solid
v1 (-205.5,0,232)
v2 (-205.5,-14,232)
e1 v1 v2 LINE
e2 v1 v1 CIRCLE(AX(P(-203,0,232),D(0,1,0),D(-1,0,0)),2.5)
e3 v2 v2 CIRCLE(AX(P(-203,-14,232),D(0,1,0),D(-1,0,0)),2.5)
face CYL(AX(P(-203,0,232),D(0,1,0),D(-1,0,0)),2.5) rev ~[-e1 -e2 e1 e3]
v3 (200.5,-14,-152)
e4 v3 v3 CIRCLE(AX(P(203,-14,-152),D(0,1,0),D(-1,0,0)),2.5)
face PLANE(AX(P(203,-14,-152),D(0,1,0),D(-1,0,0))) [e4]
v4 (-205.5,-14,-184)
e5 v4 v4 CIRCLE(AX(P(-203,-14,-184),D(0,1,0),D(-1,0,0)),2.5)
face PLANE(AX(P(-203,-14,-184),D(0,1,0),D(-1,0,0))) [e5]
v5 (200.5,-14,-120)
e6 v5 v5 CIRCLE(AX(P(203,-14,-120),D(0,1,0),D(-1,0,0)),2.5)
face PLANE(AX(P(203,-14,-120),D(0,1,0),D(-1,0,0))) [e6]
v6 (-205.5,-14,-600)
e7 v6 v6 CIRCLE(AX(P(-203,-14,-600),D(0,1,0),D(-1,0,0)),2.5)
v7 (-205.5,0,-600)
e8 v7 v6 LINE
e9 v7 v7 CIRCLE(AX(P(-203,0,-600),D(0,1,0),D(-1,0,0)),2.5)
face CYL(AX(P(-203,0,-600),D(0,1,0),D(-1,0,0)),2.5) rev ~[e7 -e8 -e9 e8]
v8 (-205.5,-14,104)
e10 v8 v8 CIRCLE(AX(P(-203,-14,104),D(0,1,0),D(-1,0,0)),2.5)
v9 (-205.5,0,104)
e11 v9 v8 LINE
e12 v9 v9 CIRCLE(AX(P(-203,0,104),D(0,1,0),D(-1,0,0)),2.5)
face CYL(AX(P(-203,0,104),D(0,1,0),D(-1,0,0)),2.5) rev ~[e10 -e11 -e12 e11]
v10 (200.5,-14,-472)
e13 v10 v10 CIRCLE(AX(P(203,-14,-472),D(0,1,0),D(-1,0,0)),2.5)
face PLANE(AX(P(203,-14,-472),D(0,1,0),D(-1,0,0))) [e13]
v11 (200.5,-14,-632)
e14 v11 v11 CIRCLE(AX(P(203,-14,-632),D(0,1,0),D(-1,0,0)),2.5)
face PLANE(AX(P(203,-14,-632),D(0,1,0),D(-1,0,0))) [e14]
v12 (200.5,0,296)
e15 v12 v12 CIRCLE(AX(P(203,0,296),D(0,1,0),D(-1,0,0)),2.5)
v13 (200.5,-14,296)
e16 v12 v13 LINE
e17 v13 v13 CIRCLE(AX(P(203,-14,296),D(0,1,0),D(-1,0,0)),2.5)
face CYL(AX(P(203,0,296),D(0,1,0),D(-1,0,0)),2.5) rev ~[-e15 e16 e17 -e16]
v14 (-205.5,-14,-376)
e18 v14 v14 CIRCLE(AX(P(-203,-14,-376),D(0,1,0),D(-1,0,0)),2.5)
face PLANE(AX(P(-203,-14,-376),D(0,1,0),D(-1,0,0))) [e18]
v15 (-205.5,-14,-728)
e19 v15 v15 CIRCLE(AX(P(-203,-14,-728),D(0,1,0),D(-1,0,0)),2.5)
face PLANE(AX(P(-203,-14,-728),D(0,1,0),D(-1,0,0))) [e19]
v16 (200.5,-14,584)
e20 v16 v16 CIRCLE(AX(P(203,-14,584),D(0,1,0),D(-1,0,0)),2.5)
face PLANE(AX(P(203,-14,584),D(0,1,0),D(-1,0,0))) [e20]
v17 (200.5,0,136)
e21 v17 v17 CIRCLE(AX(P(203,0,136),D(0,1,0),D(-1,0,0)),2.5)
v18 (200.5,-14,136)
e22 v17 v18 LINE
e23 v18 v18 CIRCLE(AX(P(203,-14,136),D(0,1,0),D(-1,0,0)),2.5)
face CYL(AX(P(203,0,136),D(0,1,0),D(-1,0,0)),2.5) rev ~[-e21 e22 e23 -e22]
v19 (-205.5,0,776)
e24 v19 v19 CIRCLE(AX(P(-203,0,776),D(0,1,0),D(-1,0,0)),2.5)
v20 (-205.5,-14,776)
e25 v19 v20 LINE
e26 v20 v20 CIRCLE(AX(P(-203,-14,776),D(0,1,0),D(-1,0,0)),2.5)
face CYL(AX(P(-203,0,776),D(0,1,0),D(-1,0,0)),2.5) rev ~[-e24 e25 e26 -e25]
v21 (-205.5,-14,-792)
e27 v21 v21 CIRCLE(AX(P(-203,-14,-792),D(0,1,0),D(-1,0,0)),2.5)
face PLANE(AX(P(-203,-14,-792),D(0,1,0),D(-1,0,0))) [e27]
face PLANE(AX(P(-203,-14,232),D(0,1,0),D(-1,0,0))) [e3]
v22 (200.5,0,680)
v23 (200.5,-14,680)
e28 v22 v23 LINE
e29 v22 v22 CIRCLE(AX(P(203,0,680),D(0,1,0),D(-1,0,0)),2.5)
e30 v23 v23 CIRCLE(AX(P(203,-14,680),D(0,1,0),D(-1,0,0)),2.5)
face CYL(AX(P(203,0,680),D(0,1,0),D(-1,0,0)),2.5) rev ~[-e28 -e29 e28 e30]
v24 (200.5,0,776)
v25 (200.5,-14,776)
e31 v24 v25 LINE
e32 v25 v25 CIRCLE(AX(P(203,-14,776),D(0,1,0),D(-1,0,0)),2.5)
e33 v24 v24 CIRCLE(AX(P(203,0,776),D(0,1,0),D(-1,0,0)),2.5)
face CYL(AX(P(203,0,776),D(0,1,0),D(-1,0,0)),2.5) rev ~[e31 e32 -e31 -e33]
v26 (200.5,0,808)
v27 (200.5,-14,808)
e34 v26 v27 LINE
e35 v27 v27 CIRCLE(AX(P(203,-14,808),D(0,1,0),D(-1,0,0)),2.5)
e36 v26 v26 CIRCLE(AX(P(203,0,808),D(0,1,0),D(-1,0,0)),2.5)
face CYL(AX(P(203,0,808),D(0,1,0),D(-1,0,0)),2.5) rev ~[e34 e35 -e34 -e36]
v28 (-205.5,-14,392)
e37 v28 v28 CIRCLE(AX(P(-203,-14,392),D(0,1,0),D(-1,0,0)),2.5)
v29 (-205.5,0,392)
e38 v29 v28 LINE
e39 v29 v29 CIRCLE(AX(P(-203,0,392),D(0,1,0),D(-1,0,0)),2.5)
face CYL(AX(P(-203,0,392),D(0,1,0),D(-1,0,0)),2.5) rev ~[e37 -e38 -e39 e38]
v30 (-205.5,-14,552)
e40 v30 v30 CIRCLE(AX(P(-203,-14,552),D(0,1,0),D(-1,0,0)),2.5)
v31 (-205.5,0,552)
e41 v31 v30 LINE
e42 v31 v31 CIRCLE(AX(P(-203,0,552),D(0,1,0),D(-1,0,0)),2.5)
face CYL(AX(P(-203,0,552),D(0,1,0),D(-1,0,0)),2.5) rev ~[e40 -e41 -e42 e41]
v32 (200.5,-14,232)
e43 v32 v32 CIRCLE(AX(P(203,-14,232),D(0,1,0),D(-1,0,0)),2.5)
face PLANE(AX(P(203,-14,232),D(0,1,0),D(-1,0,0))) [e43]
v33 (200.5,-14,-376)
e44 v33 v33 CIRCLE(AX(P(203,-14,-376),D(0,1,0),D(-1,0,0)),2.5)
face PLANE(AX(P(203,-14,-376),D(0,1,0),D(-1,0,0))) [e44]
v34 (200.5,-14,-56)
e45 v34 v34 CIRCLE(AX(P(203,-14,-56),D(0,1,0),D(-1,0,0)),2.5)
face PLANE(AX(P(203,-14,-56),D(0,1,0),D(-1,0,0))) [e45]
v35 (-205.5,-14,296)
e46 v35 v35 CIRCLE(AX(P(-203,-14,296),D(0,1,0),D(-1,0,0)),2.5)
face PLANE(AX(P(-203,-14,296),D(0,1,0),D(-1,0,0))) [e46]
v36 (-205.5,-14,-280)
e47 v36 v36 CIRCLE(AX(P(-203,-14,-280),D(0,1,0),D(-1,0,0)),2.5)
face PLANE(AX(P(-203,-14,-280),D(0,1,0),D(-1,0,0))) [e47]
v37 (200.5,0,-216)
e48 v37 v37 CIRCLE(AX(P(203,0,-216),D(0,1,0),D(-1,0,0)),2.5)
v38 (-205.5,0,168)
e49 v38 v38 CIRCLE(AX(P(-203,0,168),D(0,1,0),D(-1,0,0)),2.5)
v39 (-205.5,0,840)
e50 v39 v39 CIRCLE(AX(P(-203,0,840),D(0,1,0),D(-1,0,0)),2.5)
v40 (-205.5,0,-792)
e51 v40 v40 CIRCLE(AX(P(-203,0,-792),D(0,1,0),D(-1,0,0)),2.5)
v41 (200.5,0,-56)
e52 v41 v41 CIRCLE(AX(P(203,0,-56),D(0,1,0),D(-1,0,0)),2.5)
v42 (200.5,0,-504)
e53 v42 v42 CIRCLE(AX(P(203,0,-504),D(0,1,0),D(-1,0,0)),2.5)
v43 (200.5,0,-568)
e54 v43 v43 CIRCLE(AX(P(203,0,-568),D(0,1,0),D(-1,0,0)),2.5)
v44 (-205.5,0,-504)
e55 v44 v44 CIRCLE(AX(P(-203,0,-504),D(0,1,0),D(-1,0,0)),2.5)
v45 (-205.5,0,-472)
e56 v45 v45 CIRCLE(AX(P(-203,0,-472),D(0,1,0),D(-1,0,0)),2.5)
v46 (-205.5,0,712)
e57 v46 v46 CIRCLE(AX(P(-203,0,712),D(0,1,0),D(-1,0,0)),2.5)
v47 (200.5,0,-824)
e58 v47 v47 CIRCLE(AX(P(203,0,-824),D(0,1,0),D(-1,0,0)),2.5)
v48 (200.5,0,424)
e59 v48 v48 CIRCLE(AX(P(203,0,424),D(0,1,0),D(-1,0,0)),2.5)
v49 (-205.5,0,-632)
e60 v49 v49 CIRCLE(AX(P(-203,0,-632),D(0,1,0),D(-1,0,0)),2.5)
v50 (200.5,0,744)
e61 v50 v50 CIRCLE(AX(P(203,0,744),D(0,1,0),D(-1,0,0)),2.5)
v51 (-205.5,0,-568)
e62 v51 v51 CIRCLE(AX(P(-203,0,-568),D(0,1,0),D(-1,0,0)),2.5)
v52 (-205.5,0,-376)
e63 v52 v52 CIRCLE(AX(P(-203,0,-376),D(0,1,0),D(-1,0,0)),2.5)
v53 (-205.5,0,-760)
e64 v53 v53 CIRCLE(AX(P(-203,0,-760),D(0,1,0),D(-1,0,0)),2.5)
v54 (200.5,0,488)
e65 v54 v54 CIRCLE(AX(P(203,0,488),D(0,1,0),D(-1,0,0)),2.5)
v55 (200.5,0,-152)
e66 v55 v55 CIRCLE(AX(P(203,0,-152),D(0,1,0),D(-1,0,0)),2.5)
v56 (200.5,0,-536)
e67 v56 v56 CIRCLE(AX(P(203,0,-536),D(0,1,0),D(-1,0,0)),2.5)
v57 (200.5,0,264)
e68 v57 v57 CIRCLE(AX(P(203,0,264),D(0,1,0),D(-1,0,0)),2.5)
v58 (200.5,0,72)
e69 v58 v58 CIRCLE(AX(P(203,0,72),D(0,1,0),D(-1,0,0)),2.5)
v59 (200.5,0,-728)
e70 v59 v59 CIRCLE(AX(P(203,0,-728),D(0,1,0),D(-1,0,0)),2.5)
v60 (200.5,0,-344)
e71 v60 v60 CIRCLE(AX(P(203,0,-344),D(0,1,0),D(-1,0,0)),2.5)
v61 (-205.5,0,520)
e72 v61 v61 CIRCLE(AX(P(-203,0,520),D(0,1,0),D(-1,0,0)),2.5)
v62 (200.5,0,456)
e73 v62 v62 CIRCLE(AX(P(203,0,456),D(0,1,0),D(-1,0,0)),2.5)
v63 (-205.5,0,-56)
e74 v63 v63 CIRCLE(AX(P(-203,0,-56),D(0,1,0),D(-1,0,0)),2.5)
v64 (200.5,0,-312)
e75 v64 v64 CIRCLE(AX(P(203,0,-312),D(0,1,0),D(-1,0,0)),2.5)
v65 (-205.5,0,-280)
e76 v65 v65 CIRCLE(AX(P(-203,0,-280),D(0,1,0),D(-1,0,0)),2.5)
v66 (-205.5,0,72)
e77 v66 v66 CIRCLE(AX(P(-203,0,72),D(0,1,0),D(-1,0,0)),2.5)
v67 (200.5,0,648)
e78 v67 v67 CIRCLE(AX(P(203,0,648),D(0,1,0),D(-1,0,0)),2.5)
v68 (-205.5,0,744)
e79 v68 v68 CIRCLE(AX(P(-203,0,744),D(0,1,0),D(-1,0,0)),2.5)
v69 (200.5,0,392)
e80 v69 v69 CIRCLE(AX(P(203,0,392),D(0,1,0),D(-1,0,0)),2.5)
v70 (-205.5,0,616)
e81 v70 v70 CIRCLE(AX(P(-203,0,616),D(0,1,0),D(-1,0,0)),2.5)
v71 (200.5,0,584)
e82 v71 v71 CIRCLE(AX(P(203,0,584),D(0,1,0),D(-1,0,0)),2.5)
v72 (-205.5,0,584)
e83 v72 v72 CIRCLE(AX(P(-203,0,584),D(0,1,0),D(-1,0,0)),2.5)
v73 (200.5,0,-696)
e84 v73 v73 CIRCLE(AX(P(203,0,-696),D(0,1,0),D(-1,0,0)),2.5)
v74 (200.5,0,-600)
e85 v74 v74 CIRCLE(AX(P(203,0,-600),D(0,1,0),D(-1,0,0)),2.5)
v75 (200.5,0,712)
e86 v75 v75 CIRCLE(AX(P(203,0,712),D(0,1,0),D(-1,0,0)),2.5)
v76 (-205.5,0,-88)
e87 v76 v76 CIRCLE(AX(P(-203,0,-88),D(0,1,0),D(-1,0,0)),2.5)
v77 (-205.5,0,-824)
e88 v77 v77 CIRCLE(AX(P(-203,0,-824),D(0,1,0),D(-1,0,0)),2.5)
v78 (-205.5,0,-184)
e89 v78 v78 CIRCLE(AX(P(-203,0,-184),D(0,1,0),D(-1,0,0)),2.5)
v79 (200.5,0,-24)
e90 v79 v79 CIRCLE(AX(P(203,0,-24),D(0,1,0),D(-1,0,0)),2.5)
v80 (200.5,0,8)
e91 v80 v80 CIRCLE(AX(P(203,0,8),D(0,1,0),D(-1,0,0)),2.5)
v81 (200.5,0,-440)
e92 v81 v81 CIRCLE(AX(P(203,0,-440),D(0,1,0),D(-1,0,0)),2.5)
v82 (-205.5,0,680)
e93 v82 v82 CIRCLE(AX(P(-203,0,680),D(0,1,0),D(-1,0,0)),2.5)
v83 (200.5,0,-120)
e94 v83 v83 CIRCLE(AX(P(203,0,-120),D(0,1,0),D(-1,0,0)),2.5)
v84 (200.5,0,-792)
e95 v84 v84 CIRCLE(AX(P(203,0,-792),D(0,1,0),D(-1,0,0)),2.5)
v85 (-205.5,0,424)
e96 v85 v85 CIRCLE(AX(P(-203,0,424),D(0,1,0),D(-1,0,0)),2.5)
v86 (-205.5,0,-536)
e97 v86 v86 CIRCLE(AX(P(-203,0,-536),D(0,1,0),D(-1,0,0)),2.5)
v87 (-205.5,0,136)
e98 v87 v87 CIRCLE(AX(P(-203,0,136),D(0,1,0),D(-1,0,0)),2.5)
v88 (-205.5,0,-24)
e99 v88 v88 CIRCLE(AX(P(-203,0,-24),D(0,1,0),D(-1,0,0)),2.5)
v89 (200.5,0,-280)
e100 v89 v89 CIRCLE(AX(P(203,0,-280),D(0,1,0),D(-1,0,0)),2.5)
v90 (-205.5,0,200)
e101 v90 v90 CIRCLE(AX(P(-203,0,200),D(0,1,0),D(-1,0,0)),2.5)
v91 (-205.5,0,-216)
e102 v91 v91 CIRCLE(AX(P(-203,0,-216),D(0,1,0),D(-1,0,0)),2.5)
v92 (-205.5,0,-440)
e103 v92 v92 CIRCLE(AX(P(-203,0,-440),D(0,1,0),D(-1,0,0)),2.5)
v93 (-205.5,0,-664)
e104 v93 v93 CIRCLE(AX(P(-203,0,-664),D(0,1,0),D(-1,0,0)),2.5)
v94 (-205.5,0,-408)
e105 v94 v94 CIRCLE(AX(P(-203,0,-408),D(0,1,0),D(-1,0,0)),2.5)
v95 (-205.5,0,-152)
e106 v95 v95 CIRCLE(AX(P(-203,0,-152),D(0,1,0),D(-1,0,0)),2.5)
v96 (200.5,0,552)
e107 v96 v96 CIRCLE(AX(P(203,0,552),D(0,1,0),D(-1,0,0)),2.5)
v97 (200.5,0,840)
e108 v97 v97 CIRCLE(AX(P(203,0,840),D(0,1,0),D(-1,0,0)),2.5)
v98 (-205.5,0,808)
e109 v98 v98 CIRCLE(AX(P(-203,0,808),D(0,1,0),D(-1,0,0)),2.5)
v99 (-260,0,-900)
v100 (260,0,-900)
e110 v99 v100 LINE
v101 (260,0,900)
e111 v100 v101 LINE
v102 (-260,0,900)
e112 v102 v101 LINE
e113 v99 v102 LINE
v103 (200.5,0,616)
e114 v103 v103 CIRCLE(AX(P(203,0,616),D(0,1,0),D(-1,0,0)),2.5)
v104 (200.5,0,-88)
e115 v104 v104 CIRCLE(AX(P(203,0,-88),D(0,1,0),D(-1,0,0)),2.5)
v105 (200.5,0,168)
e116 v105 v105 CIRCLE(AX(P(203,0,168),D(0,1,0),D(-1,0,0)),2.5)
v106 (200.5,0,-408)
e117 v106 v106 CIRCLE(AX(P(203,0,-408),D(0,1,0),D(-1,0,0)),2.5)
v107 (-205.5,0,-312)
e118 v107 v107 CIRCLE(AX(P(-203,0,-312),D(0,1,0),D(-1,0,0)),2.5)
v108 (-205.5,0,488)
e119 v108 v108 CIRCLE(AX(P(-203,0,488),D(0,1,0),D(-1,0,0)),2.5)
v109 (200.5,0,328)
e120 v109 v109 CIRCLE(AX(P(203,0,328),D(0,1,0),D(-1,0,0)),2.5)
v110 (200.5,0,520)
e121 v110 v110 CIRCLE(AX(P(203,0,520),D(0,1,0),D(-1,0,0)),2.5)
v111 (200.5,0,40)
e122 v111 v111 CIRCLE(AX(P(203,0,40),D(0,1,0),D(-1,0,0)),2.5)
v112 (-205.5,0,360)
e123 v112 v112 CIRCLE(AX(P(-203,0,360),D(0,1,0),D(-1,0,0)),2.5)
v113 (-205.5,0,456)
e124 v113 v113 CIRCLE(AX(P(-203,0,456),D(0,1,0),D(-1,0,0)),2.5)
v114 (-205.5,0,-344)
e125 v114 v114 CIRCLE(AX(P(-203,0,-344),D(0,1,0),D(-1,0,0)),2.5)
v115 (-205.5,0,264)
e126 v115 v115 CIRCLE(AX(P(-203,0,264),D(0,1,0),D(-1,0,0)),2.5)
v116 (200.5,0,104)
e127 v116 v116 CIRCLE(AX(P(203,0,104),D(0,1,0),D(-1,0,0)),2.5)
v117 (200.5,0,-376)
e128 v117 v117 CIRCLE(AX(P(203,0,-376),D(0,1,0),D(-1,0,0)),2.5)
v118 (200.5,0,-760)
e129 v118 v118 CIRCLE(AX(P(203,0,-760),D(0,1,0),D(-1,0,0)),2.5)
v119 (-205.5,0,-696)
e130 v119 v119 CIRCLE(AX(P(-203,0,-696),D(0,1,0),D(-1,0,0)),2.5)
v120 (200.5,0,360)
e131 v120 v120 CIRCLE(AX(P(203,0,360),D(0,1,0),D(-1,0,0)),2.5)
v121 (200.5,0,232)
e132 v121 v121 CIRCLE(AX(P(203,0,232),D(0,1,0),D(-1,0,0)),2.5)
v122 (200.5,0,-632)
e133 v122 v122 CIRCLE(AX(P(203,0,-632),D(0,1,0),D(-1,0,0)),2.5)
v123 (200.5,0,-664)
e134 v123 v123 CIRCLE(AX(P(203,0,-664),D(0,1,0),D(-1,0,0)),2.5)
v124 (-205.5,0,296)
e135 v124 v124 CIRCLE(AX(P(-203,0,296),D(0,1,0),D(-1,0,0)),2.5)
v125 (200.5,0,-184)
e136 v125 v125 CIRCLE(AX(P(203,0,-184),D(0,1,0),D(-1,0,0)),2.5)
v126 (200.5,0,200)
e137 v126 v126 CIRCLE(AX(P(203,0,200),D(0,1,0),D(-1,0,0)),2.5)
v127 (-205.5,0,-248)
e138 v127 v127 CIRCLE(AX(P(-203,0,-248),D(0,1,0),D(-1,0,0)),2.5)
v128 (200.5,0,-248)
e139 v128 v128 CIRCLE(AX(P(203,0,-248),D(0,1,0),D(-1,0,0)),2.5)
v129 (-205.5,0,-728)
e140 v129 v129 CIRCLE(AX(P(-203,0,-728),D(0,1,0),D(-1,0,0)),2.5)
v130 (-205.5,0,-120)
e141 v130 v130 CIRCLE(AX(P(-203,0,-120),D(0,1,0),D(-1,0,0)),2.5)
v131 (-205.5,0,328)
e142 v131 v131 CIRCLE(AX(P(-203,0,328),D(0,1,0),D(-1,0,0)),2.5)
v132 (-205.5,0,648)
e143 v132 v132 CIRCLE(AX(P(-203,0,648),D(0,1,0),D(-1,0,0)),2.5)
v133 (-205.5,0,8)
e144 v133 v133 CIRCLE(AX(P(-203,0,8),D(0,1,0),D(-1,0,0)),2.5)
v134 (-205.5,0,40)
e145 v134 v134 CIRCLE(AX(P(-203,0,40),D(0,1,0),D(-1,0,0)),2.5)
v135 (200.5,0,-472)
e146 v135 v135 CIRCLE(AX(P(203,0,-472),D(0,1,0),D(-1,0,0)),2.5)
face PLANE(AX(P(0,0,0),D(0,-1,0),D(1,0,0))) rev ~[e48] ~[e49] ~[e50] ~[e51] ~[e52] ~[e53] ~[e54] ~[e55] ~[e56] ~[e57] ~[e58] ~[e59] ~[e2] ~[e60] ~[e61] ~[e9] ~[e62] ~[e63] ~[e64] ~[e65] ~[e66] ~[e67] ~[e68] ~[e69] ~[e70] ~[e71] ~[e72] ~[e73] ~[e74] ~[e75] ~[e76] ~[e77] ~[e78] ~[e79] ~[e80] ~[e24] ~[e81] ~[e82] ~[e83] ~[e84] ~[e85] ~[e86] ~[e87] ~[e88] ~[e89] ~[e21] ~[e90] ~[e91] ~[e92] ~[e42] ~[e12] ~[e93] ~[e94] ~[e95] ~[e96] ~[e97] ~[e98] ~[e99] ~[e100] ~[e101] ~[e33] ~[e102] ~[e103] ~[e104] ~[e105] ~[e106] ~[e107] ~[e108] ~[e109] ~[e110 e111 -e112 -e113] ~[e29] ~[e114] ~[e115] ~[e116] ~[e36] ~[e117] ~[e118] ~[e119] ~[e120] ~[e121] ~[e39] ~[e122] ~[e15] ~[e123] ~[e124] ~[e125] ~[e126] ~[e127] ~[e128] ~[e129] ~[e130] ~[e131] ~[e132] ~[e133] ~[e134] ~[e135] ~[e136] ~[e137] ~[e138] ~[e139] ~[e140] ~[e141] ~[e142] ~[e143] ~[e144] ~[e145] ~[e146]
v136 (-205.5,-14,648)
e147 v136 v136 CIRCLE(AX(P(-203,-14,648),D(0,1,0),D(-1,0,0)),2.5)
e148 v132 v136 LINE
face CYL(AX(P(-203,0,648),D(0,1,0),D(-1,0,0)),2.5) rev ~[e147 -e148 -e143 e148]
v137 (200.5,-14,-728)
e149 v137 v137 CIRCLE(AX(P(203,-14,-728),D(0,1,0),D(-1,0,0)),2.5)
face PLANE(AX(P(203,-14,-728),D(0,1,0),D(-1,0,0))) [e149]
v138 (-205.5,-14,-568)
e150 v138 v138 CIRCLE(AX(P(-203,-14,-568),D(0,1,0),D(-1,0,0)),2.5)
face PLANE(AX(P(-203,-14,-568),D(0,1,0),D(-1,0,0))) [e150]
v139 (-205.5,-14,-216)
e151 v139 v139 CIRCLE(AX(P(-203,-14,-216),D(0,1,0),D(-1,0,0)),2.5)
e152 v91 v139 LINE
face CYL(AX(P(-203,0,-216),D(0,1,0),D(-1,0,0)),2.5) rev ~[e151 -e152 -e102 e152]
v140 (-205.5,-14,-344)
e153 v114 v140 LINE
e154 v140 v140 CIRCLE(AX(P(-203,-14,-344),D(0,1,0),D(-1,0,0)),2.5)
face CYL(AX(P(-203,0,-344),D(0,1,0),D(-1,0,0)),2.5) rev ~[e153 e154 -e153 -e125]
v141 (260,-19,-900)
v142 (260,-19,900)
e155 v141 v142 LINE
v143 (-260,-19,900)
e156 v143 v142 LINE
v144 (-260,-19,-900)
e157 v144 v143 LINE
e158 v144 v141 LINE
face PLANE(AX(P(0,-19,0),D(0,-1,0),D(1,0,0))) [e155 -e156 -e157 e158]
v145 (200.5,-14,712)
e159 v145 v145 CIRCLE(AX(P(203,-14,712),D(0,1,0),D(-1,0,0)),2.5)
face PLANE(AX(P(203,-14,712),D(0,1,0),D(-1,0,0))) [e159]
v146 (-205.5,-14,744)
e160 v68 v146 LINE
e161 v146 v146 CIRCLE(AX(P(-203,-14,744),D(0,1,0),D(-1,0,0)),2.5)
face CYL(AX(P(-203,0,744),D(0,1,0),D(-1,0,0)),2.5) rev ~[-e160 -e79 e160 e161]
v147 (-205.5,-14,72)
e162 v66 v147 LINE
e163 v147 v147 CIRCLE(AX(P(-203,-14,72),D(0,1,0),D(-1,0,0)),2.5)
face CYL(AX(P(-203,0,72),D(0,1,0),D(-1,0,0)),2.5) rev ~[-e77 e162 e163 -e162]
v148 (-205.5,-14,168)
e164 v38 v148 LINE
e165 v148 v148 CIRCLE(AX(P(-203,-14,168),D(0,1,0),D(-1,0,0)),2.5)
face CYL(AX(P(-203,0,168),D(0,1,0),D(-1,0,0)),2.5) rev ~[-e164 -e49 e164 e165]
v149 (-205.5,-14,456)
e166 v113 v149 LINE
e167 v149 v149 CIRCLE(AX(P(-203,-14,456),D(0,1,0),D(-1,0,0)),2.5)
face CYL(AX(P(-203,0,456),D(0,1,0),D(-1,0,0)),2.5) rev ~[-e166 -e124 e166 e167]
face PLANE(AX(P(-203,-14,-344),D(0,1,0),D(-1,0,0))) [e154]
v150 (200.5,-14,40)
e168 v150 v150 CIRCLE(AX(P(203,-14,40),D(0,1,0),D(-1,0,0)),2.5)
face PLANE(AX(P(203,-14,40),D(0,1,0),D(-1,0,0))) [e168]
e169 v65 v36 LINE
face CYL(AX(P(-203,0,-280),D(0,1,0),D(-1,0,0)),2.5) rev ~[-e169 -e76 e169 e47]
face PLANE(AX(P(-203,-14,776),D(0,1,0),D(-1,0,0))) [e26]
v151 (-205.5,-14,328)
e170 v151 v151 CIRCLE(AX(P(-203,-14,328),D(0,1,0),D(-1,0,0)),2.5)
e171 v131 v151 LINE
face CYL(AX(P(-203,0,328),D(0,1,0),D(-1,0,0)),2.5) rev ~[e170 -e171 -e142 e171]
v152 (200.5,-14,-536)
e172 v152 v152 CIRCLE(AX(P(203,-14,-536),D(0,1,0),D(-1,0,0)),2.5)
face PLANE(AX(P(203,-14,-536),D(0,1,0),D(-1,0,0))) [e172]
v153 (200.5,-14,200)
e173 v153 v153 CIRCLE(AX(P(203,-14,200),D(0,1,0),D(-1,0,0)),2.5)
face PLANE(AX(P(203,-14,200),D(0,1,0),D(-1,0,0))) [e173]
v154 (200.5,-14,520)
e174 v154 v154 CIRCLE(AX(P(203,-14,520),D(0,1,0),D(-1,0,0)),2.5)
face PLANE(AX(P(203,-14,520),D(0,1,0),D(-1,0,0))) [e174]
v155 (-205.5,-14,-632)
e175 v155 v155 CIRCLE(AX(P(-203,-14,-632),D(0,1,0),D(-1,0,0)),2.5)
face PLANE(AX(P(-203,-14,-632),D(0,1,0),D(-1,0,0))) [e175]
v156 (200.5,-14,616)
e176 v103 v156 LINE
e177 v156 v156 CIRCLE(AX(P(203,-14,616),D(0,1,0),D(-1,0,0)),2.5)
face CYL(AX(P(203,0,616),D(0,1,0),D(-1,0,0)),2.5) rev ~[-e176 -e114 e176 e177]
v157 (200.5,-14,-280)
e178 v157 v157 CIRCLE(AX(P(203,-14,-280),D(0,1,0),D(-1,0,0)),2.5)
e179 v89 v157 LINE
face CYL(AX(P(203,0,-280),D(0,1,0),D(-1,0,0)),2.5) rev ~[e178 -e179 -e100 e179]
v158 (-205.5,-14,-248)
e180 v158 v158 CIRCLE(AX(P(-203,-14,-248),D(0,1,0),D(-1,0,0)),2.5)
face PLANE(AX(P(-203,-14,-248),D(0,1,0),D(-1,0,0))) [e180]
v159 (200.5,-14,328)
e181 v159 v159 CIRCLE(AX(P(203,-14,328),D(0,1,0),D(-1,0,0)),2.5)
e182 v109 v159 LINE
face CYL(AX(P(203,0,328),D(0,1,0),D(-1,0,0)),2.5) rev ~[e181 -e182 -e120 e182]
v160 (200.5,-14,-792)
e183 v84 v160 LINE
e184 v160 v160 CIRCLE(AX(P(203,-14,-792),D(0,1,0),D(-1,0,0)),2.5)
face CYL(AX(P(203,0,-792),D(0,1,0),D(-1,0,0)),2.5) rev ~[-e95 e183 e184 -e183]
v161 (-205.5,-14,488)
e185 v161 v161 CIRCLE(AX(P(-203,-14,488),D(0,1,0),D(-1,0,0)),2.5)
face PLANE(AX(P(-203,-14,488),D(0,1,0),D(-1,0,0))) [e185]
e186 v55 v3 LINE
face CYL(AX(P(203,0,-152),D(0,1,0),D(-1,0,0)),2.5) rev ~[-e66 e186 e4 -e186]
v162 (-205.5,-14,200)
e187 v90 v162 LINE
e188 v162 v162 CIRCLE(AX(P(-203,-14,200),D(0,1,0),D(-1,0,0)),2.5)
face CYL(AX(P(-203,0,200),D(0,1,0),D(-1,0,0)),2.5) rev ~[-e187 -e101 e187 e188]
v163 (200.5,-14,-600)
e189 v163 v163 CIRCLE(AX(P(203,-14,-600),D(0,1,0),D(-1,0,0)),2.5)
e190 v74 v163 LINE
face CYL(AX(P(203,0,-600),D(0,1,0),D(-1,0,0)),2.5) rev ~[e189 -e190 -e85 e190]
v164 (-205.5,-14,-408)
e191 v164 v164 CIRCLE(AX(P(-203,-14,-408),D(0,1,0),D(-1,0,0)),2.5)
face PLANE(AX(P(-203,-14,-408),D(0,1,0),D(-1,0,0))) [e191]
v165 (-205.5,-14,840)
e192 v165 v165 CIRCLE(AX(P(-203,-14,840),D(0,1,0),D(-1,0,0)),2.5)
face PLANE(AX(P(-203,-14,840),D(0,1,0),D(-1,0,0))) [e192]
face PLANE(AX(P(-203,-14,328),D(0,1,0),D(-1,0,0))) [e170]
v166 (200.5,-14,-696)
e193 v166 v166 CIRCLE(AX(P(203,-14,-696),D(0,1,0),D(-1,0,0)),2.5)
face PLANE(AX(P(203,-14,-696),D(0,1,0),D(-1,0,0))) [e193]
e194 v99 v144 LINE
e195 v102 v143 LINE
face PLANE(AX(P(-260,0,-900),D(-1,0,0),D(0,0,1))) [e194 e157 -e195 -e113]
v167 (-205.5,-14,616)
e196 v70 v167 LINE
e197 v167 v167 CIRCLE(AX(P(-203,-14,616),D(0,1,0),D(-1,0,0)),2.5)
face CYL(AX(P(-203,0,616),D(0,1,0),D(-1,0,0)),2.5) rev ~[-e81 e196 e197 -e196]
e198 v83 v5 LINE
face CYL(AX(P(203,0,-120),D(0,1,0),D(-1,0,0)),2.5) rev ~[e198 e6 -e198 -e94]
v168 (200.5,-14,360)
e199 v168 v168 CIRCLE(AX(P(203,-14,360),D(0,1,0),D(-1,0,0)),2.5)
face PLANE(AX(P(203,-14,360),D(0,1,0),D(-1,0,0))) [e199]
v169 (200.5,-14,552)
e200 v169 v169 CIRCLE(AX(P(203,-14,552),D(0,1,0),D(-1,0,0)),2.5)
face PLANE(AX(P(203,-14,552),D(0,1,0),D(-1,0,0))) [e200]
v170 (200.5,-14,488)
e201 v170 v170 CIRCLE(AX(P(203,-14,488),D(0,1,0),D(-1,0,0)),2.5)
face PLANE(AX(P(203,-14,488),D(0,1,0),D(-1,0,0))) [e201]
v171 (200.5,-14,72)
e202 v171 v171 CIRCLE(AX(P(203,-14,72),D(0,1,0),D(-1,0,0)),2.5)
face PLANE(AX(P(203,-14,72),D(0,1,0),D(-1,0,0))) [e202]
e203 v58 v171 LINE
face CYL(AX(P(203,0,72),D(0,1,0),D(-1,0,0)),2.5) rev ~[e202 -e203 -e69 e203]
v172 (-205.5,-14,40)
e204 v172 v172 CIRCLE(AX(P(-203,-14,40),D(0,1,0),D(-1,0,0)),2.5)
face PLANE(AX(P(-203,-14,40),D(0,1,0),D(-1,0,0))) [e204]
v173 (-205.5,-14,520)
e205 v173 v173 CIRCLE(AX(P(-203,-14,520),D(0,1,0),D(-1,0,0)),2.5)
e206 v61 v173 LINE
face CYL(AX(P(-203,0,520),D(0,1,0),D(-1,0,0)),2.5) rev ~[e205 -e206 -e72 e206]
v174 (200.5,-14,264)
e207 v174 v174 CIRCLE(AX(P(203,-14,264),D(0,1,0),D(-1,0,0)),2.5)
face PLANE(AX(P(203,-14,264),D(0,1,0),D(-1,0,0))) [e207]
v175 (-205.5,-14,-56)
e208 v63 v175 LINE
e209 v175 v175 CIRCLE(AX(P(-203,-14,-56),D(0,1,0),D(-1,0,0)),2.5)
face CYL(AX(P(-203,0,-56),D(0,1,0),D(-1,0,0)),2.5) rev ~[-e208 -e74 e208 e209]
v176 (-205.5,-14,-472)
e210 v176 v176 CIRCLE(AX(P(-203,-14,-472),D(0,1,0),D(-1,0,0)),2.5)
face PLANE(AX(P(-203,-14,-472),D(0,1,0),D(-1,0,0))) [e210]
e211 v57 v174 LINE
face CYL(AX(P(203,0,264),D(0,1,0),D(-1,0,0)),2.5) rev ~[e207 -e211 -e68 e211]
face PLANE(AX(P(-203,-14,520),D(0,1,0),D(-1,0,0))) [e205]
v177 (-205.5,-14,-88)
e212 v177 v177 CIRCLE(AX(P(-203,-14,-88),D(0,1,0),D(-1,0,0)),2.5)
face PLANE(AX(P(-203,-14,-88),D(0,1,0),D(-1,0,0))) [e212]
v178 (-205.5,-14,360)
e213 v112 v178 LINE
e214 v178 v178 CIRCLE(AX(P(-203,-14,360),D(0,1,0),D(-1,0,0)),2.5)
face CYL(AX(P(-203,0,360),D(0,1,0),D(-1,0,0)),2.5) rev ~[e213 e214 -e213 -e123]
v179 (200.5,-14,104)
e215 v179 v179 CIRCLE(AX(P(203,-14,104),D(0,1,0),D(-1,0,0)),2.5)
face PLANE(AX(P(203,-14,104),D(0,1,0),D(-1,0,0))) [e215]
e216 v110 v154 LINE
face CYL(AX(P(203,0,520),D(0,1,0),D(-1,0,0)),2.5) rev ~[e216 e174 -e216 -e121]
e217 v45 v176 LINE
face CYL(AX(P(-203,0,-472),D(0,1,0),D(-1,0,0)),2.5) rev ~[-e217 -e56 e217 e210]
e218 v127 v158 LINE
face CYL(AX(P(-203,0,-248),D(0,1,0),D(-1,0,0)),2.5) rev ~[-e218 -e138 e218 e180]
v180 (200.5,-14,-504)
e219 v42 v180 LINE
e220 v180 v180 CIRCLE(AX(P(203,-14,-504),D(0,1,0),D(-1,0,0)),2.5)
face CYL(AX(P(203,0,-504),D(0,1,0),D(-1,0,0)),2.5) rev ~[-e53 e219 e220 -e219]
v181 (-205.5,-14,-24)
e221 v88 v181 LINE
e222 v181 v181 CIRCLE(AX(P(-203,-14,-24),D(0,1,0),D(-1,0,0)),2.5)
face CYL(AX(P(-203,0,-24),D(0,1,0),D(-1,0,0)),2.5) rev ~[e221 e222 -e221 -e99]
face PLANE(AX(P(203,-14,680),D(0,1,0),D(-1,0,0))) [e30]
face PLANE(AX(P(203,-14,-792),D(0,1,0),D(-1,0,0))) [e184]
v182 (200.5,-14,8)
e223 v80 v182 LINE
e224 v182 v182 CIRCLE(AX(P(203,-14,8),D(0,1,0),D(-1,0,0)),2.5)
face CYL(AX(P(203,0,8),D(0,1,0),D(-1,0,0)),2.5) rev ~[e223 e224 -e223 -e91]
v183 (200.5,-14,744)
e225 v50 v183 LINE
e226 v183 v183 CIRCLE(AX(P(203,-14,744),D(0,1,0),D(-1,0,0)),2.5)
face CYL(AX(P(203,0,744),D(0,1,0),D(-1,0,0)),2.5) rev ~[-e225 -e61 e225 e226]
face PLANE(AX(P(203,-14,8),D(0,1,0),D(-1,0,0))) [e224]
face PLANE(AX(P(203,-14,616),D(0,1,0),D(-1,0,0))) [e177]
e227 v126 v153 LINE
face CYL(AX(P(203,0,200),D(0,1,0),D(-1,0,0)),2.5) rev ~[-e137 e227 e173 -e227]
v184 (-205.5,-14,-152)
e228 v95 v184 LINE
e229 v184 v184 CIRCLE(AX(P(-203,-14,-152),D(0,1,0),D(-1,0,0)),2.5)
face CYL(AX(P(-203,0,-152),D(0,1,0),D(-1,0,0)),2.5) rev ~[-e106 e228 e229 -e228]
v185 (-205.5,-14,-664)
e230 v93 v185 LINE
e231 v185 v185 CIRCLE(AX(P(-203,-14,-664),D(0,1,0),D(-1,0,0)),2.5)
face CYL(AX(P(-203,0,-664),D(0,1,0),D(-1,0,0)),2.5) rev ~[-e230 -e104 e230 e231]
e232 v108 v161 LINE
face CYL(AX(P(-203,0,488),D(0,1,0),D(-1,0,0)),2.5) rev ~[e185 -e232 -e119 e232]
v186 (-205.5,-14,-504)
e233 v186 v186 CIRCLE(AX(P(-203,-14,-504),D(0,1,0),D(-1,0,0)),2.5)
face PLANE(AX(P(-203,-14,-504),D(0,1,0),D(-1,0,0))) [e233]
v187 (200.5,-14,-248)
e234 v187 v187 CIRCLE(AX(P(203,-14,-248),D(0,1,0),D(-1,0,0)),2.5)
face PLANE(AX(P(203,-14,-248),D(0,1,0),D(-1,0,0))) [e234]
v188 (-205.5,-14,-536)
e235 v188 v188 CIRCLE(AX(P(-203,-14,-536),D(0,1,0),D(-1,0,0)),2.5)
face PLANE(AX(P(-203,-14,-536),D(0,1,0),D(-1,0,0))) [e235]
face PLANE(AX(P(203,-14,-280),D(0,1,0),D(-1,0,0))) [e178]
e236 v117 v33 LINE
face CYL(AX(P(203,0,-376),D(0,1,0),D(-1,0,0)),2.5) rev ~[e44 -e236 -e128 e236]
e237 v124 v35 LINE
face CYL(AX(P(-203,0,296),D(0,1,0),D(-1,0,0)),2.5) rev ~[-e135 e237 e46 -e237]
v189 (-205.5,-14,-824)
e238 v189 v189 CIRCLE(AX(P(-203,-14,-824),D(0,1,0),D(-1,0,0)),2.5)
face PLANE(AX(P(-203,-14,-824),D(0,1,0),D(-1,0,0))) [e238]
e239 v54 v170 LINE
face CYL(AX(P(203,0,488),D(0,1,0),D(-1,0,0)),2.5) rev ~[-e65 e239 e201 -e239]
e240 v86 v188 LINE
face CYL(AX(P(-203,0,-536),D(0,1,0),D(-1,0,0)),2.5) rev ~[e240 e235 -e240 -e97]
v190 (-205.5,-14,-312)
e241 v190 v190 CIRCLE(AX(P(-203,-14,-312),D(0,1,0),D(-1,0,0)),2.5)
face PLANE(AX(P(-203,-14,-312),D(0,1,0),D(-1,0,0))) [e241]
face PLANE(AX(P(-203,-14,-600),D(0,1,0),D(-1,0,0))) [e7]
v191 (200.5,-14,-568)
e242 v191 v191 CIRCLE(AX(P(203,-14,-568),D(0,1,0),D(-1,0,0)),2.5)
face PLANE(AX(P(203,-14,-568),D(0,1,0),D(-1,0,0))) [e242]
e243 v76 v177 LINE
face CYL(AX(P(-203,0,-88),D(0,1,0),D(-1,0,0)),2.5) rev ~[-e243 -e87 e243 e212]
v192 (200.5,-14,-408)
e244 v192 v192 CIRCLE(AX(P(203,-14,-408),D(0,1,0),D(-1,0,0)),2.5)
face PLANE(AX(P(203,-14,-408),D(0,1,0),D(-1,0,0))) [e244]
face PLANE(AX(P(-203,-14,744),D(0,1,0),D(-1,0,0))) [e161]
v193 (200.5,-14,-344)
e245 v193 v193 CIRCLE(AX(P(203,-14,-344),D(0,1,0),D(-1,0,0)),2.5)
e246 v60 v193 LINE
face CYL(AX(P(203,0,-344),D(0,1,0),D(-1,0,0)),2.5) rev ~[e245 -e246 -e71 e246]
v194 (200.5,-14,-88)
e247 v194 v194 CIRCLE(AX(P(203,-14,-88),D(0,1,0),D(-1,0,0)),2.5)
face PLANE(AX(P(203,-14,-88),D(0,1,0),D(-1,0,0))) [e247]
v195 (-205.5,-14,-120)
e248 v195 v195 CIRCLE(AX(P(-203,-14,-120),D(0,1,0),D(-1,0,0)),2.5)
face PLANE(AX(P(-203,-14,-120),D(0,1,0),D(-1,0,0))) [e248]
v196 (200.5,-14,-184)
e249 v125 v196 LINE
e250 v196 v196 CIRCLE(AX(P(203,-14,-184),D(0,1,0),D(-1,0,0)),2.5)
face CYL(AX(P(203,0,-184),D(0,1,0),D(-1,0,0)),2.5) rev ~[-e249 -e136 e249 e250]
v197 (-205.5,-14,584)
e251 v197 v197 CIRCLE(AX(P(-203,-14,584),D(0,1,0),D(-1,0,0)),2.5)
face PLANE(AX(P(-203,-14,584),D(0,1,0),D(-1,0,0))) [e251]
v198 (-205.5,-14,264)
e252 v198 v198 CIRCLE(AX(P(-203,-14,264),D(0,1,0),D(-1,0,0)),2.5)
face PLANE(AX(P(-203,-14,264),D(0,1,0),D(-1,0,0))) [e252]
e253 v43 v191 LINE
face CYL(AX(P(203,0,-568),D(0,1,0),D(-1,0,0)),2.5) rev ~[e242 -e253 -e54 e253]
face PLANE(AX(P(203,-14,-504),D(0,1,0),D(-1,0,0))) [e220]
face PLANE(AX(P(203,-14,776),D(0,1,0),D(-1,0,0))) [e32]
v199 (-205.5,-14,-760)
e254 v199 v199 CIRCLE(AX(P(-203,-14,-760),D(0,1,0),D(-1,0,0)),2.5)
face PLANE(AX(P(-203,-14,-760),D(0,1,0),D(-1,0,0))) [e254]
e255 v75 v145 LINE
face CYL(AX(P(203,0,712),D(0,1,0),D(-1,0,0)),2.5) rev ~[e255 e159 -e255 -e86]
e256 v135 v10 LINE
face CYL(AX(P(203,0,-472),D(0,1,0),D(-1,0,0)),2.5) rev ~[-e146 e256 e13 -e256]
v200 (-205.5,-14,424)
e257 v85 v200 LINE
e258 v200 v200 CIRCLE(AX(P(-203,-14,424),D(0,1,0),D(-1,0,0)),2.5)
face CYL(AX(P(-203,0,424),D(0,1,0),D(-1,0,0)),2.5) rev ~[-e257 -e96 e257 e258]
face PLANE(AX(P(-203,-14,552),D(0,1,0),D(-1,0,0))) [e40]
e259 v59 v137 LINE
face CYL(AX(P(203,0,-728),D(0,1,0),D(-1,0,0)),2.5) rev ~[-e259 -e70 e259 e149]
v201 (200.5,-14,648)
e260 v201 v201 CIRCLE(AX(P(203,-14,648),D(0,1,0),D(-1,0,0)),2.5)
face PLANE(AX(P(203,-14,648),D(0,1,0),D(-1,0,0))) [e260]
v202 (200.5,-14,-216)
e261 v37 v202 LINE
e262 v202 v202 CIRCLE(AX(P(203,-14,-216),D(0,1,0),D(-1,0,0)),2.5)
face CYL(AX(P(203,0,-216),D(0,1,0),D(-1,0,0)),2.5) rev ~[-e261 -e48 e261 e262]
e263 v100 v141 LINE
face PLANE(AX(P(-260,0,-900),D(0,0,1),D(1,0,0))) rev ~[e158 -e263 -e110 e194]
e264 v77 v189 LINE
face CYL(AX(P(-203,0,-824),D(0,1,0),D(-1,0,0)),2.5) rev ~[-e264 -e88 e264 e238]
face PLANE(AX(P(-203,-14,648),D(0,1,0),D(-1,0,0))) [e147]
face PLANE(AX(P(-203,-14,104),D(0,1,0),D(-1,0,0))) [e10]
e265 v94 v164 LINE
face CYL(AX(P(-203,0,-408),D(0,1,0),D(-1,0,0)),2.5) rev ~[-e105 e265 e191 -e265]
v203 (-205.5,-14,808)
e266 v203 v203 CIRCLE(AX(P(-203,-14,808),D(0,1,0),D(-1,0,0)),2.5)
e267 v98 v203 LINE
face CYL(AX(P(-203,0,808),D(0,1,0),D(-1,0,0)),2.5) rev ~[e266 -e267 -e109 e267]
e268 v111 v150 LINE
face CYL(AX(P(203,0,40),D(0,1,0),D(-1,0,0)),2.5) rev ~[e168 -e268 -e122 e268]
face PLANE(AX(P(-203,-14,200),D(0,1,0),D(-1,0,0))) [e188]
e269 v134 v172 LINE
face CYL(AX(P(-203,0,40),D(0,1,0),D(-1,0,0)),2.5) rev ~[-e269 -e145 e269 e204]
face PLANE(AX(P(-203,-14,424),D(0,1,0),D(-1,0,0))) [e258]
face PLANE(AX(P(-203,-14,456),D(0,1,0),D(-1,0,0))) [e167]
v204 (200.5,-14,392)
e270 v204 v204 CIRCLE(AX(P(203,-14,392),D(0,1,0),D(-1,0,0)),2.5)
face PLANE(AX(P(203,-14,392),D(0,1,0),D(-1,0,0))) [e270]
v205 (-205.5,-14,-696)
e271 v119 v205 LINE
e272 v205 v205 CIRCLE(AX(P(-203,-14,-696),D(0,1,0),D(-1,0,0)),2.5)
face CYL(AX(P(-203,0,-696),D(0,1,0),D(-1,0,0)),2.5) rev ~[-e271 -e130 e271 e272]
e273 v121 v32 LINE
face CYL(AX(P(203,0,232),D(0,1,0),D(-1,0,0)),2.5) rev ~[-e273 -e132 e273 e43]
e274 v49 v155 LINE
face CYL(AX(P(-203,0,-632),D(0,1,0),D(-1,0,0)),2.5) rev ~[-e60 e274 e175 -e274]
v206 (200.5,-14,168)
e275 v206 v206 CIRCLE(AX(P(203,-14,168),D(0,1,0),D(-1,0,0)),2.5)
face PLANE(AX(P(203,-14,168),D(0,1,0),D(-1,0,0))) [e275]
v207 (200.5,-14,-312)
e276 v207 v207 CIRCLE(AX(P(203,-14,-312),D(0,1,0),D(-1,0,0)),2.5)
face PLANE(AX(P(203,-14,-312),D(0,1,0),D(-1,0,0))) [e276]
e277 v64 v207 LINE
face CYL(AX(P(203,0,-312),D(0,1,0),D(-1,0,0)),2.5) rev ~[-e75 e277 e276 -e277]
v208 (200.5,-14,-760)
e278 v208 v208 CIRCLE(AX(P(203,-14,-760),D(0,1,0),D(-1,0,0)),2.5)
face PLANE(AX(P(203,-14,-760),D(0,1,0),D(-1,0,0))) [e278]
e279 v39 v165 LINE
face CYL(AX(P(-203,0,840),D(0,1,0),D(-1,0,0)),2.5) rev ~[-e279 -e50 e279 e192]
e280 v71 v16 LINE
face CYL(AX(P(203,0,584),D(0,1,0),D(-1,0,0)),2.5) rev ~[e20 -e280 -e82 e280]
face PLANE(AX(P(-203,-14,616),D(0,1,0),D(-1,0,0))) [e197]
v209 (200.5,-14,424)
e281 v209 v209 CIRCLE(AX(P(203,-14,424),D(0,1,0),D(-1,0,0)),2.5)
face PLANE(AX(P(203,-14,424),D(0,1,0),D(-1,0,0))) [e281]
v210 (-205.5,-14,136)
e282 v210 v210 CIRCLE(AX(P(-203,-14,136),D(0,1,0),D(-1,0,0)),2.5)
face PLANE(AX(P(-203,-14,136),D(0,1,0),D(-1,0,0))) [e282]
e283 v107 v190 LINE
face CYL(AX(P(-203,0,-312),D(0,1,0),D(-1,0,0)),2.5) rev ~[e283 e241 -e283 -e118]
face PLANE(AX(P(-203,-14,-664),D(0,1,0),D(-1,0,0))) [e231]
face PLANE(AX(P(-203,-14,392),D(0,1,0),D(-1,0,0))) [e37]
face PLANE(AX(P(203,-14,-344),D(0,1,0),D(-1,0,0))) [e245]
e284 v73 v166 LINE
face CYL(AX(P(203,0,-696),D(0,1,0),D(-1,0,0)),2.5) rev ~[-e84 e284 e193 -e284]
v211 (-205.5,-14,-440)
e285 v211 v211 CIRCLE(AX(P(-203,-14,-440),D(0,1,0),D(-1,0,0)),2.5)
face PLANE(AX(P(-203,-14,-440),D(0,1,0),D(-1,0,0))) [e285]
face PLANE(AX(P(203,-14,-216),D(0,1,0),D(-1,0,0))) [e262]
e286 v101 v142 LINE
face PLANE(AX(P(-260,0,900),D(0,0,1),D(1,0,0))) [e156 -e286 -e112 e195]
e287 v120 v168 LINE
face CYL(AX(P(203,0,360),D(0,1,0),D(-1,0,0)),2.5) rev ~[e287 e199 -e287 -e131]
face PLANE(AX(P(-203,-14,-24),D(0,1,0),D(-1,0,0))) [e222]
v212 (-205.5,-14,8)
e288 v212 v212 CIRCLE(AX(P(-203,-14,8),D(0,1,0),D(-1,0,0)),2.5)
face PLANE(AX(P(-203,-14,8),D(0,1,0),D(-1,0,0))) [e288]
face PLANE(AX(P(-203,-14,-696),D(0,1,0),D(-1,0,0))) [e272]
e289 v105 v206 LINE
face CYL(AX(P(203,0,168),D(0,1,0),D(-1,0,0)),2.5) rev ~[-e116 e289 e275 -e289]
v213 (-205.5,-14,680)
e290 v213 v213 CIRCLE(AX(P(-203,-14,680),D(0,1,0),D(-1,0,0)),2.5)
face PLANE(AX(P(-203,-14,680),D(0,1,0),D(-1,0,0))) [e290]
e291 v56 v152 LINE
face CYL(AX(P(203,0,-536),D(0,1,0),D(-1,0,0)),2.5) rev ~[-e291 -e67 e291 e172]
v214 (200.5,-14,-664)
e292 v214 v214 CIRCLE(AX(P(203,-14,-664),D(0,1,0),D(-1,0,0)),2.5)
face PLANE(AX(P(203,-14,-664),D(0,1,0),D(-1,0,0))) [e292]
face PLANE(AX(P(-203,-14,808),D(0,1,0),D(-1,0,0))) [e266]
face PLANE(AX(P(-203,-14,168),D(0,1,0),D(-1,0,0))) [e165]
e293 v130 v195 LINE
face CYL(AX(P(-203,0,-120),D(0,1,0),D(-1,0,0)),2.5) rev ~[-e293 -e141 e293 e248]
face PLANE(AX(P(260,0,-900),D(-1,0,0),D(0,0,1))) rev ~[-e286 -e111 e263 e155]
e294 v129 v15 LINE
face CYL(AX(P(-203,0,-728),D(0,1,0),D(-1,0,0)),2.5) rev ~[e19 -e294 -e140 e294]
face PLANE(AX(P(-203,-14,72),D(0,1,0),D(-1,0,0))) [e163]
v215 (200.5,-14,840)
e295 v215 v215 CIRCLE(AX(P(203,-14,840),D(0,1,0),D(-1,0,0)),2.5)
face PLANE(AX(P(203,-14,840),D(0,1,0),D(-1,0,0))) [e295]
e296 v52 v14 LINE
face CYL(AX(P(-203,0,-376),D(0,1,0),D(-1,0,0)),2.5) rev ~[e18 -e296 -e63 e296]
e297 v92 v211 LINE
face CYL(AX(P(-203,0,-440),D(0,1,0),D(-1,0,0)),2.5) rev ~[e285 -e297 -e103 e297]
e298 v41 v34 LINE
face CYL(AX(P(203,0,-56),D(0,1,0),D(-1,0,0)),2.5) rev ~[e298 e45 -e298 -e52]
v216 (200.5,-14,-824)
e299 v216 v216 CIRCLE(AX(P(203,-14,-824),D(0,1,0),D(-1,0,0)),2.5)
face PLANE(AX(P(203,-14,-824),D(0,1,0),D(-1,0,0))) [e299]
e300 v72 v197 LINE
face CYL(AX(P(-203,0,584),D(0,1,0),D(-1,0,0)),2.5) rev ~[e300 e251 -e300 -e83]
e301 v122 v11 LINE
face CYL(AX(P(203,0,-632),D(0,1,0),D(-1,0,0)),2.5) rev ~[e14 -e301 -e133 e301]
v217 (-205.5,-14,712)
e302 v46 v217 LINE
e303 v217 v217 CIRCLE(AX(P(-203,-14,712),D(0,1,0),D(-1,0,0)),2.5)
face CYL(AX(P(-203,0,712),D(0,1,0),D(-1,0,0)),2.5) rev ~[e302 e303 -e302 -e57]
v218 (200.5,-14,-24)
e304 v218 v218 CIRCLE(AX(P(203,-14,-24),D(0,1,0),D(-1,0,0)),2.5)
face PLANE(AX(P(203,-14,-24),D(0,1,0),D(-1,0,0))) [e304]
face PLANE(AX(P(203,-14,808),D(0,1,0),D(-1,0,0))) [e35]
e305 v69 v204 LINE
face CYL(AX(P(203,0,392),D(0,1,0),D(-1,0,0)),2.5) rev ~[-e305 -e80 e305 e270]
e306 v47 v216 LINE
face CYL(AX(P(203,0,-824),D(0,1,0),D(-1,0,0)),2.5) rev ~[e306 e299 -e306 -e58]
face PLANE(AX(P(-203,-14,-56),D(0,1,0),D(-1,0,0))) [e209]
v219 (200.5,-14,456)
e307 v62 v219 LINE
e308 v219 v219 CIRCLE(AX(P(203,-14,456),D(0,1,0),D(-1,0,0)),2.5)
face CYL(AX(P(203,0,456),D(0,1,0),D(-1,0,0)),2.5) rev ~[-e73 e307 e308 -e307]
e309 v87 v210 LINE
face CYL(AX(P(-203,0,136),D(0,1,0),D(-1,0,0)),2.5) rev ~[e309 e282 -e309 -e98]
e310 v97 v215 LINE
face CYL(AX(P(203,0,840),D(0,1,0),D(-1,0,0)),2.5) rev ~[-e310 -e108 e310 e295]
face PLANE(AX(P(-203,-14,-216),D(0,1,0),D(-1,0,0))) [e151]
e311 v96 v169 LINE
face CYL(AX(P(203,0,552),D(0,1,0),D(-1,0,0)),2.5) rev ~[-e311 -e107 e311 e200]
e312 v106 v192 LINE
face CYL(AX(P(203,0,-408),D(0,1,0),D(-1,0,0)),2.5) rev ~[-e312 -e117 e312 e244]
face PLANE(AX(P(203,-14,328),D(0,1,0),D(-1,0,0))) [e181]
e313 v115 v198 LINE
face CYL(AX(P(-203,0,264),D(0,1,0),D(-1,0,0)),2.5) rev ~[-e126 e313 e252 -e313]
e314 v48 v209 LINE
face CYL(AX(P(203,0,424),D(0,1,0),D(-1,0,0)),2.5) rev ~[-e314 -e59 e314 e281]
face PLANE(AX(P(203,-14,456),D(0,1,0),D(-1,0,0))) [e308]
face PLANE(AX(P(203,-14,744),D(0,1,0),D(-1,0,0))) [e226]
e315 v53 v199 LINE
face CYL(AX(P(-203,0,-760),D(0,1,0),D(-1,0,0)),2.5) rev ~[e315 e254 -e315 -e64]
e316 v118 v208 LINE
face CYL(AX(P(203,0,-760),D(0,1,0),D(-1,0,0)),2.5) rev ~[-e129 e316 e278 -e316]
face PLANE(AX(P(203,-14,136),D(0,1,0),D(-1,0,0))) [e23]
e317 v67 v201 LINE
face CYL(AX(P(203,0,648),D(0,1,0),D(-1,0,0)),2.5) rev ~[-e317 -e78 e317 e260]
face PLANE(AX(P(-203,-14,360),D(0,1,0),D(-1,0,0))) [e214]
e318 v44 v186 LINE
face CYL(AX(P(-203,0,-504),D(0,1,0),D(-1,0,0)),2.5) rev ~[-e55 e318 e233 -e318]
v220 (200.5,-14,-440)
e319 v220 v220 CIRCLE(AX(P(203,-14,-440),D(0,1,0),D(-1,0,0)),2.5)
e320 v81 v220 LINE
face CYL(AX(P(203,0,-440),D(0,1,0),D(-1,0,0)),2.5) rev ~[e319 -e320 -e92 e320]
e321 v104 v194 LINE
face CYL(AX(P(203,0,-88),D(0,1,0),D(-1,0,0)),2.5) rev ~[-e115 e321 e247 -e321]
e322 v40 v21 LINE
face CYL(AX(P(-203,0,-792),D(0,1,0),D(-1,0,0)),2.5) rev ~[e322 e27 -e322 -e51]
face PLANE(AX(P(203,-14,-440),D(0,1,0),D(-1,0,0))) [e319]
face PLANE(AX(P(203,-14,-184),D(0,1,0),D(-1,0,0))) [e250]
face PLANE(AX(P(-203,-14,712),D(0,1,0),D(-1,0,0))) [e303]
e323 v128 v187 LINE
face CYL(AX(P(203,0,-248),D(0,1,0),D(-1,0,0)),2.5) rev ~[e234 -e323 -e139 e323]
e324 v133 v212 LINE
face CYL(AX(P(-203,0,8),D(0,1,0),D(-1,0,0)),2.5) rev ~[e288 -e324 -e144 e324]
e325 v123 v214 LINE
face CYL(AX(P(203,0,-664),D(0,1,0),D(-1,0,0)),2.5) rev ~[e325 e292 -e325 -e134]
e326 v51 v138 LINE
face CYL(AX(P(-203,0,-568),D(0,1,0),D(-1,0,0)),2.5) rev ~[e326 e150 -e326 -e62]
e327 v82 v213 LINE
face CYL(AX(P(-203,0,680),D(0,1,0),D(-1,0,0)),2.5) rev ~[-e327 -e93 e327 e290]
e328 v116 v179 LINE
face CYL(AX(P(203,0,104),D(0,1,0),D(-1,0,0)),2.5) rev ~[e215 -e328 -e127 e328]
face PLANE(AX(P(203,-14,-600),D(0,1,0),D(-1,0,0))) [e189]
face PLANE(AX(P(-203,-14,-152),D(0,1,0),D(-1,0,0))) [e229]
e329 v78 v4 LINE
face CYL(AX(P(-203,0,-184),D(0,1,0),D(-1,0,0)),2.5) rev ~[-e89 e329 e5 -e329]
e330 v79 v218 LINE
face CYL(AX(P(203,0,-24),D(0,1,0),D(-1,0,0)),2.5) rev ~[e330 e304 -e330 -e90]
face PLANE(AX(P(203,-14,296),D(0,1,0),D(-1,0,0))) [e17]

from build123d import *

# Parameters (mm, degrees)
F0_W     = 520
F0_H     = 1800
F1_DEPTH = 19
F2_R     = 2.5
F3_DEPTH = 14


with BuildPart() as f1:
    # F0 (on Front) → F1 (new body)
    with BuildSketch(Plane.XZ):
        Rectangle(F0_W, F0_H)
    extrude(amount=F1_DEPTH)

    # F2 (on face) → F3 (cut)
    with BuildSketch(Plane(origin=(0, 0, 0), x_dir=(-1, 0, 0), z_dir=(0, 1, 0))):
        with Locations((-203, 840)):
            Circle(F2_R)
        with Locations((-203, 808)):
            Circle(F2_R)
        with Locations((-203, 776)):
            Circle(F2_R)
        with Locations((-203, 744)):
            Circle(F2_R)
        with Locations((-203, 712)):
            Circle(F2_R)
        with Locations((-203, 680)):
            Circle(F2_R)
        with Locations((-203, 648)):
            Circle(F2_R)
        with Locations((-203, 616)):
            Circle(F2_R)
        with Locations((-203, 584)):
            Circle(F2_R)
        with Locations((-203, 552)):
            Circle(F2_R)
        with Locations((-203, 520)):
            Circle(F2_R)
        with Locations((-203, 488)):
            Circle(F2_R)
        with Locations((-203, 456)):
            Circle(F2_R)
        with Locations((-203, 424)):
            Circle(F2_R)
        with Locations((-203, 392)):
            Circle(F2_R)
        with Locations((-203, 360)):
            Circle(F2_R)
        with Locations((-203, 328)):
            Circle(F2_R)
        with Locations((-203, 296)):
            Circle(F2_R)
        with Locations((-203, 264)):
            Circle(F2_R)
        with Locations((-203, 232)):
            Circle(F2_R)
        with Locations((-203, 200)):
            Circle(F2_R)
        with Locations((-203, 168)):
            Circle(F2_R)
        with Locations((-203, 136)):
            Circle(F2_R)
        with Locations((-203, 104)):
            Circle(F2_R)
        with Locations((-203, 72)):
            Circle(F2_R)
        with Locations((-203, 40)):
            Circle(F2_R)
        with Locations((-203, 8)):
            Circle(F2_R)
        with Locations((-203, -24)):
            Circle(F2_R)
        with Locations((-203, -56)):
            Circle(F2_R)
        with Locations((-203, -88)):
            Circle(F2_R)
        with Locations((-203, -120)):
            Circle(F2_R)
        with Locations((-203, -152)):
            Circle(F2_R)
        with Locations((-203, -184)):
            Circle(F2_R)
        with Locations((-203, -216)):
            Circle(F2_R)
        with Locations((-203, -248)):
            Circle(F2_R)
        with Locations((-203, -280)):
            Circle(F2_R)
        with Locations((-203, -312)):
            Circle(F2_R)
        with Locations((-203, -344)):
            Circle(F2_R)
        with Locations((-203, -376)):
            Circle(F2_R)
        with Locations((-203, -408)):
            Circle(F2_R)
        with Locations((-203, -440)):
            Circle(F2_R)
        with Locations((-203, -472)):
            Circle(F2_R)
        with Locations((-203, -504)):
            Circle(F2_R)
        with Locations((-203, -536)):
            Circle(F2_R)
        with Locations((-203, -568)):
            Circle(F2_R)
        with Locations((-203, -600)):
            Circle(F2_R)
        with Locations((-203, -632)):
            Circle(F2_R)
        with Locations((-203, -664)):
            Circle(F2_R)
        with Locations((-203, -696)):
            Circle(F2_R)
        with Locations((-203, -728)):
            Circle(F2_R)
        with Locations((203, 840)):
            Circle(F2_R)
        with Locations((203, 808)):
            Circle(F2_R)
        with Locations((203, 776)):
            Circle(F2_R)
        with Locations((203, 744)):
            Circle(F2_R)
        with Locations((203, 712)):
            Circle(F2_R)
        with Locations((203, 680)):
            Circle(F2_R)
        with Locations((203, 648)):
            Circle(F2_R)
        with Locations((203, 616)):
            Circle(F2_R)
        with Locations((203, 584)):
            Circle(F2_R)
        with Locations((203, 552)):
            Circle(F2_R)
        with Locations((203, 520)):
            Circle(F2_R)
        with Locations((203, 488)):
            Circle(F2_R)
        with Locations((203, 456)):
            Circle(F2_R)
        with Locations((203, 424)):
            Circle(F2_R)
        with Locations((203, 392)):
            Circle(F2_R)
        with Locations((203, 360)):
            Circle(F2_R)
        with Locations((203, 328)):
            Circle(F2_R)
        with Locations((203, 296)):
            Circle(F2_R)
        with Locations((203, 264)):
            Circle(F2_R)
        with Locations((203, 232)):
            Circle(F2_R)
        with Locations((203, 200)):
            Circle(F2_R)
        with Locations((203, 168)):
            Circle(F2_R)
        with Locations((203, 136)):
            Circle(F2_R)
        with Locations((203, 104)):
            Circle(F2_R)
        with Locations((203, 72)):
            Circle(F2_R)
        with Locations((203, 40)):
            Circle(F2_R)
        with Locations((203, 8)):
            Circle(F2_R)
        with Locations((203, -24)):
            Circle(F2_R)
        with Locations((203, -56)):
            Circle(F2_R)
        with Locations((203, -88)):
            Circle(F2_R)
        with Locations((203, -120)):
            Circle(F2_R)
        with Locations((203, -152)):
            Circle(F2_R)
        with Locations((203, -184)):
            Circle(F2_R)
        with Locations((203, -216)):
            Circle(F2_R)
        with Locations((203, -248)):
            Circle(F2_R)
        with Locations((203, -280)):
            Circle(F2_R)
        with Locations((203, -312)):
            Circle(F2_R)
        with Locations((203, -344)):
            Circle(F2_R)
        with Locations((203, -376)):
            Circle(F2_R)
        with Locations((203, -408)):
            Circle(F2_R)
        with Locations((203, -440)):
            Circle(F2_R)
        with Locations((203, -472)):
            Circle(F2_R)
        with Locations((203, -504)):
            Circle(F2_R)
        with Locations((203, -536)):
            Circle(F2_R)
        with Locations((203, -568)):
            Circle(F2_R)
        with Locations((203, -600)):
            Circle(F2_R)
        with Locations((203, -632)):
            Circle(F2_R)
        with Locations((203, -664)):
            Circle(F2_R)
        with Locations((203, -696)):
            Circle(F2_R)
        with Locations((203, -728)):
            Circle(F2_R)
        with Locations((-203, -760)):
            Circle(F2_R)
        with Locations((-203, -792)):
            Circle(F2_R)
        with Locations((-203, -824)):
            Circle(F2_R)
        with Locations((203, -760)):
            Circle(F2_R)
        with Locations((203, -792)):
            Circle(F2_R)
        with Locations((203, -824)):
            Circle(F2_R)
    extrude(amount=-F3_DEPTH, mode=Mode.SUBTRACT)


solid = f1.part
